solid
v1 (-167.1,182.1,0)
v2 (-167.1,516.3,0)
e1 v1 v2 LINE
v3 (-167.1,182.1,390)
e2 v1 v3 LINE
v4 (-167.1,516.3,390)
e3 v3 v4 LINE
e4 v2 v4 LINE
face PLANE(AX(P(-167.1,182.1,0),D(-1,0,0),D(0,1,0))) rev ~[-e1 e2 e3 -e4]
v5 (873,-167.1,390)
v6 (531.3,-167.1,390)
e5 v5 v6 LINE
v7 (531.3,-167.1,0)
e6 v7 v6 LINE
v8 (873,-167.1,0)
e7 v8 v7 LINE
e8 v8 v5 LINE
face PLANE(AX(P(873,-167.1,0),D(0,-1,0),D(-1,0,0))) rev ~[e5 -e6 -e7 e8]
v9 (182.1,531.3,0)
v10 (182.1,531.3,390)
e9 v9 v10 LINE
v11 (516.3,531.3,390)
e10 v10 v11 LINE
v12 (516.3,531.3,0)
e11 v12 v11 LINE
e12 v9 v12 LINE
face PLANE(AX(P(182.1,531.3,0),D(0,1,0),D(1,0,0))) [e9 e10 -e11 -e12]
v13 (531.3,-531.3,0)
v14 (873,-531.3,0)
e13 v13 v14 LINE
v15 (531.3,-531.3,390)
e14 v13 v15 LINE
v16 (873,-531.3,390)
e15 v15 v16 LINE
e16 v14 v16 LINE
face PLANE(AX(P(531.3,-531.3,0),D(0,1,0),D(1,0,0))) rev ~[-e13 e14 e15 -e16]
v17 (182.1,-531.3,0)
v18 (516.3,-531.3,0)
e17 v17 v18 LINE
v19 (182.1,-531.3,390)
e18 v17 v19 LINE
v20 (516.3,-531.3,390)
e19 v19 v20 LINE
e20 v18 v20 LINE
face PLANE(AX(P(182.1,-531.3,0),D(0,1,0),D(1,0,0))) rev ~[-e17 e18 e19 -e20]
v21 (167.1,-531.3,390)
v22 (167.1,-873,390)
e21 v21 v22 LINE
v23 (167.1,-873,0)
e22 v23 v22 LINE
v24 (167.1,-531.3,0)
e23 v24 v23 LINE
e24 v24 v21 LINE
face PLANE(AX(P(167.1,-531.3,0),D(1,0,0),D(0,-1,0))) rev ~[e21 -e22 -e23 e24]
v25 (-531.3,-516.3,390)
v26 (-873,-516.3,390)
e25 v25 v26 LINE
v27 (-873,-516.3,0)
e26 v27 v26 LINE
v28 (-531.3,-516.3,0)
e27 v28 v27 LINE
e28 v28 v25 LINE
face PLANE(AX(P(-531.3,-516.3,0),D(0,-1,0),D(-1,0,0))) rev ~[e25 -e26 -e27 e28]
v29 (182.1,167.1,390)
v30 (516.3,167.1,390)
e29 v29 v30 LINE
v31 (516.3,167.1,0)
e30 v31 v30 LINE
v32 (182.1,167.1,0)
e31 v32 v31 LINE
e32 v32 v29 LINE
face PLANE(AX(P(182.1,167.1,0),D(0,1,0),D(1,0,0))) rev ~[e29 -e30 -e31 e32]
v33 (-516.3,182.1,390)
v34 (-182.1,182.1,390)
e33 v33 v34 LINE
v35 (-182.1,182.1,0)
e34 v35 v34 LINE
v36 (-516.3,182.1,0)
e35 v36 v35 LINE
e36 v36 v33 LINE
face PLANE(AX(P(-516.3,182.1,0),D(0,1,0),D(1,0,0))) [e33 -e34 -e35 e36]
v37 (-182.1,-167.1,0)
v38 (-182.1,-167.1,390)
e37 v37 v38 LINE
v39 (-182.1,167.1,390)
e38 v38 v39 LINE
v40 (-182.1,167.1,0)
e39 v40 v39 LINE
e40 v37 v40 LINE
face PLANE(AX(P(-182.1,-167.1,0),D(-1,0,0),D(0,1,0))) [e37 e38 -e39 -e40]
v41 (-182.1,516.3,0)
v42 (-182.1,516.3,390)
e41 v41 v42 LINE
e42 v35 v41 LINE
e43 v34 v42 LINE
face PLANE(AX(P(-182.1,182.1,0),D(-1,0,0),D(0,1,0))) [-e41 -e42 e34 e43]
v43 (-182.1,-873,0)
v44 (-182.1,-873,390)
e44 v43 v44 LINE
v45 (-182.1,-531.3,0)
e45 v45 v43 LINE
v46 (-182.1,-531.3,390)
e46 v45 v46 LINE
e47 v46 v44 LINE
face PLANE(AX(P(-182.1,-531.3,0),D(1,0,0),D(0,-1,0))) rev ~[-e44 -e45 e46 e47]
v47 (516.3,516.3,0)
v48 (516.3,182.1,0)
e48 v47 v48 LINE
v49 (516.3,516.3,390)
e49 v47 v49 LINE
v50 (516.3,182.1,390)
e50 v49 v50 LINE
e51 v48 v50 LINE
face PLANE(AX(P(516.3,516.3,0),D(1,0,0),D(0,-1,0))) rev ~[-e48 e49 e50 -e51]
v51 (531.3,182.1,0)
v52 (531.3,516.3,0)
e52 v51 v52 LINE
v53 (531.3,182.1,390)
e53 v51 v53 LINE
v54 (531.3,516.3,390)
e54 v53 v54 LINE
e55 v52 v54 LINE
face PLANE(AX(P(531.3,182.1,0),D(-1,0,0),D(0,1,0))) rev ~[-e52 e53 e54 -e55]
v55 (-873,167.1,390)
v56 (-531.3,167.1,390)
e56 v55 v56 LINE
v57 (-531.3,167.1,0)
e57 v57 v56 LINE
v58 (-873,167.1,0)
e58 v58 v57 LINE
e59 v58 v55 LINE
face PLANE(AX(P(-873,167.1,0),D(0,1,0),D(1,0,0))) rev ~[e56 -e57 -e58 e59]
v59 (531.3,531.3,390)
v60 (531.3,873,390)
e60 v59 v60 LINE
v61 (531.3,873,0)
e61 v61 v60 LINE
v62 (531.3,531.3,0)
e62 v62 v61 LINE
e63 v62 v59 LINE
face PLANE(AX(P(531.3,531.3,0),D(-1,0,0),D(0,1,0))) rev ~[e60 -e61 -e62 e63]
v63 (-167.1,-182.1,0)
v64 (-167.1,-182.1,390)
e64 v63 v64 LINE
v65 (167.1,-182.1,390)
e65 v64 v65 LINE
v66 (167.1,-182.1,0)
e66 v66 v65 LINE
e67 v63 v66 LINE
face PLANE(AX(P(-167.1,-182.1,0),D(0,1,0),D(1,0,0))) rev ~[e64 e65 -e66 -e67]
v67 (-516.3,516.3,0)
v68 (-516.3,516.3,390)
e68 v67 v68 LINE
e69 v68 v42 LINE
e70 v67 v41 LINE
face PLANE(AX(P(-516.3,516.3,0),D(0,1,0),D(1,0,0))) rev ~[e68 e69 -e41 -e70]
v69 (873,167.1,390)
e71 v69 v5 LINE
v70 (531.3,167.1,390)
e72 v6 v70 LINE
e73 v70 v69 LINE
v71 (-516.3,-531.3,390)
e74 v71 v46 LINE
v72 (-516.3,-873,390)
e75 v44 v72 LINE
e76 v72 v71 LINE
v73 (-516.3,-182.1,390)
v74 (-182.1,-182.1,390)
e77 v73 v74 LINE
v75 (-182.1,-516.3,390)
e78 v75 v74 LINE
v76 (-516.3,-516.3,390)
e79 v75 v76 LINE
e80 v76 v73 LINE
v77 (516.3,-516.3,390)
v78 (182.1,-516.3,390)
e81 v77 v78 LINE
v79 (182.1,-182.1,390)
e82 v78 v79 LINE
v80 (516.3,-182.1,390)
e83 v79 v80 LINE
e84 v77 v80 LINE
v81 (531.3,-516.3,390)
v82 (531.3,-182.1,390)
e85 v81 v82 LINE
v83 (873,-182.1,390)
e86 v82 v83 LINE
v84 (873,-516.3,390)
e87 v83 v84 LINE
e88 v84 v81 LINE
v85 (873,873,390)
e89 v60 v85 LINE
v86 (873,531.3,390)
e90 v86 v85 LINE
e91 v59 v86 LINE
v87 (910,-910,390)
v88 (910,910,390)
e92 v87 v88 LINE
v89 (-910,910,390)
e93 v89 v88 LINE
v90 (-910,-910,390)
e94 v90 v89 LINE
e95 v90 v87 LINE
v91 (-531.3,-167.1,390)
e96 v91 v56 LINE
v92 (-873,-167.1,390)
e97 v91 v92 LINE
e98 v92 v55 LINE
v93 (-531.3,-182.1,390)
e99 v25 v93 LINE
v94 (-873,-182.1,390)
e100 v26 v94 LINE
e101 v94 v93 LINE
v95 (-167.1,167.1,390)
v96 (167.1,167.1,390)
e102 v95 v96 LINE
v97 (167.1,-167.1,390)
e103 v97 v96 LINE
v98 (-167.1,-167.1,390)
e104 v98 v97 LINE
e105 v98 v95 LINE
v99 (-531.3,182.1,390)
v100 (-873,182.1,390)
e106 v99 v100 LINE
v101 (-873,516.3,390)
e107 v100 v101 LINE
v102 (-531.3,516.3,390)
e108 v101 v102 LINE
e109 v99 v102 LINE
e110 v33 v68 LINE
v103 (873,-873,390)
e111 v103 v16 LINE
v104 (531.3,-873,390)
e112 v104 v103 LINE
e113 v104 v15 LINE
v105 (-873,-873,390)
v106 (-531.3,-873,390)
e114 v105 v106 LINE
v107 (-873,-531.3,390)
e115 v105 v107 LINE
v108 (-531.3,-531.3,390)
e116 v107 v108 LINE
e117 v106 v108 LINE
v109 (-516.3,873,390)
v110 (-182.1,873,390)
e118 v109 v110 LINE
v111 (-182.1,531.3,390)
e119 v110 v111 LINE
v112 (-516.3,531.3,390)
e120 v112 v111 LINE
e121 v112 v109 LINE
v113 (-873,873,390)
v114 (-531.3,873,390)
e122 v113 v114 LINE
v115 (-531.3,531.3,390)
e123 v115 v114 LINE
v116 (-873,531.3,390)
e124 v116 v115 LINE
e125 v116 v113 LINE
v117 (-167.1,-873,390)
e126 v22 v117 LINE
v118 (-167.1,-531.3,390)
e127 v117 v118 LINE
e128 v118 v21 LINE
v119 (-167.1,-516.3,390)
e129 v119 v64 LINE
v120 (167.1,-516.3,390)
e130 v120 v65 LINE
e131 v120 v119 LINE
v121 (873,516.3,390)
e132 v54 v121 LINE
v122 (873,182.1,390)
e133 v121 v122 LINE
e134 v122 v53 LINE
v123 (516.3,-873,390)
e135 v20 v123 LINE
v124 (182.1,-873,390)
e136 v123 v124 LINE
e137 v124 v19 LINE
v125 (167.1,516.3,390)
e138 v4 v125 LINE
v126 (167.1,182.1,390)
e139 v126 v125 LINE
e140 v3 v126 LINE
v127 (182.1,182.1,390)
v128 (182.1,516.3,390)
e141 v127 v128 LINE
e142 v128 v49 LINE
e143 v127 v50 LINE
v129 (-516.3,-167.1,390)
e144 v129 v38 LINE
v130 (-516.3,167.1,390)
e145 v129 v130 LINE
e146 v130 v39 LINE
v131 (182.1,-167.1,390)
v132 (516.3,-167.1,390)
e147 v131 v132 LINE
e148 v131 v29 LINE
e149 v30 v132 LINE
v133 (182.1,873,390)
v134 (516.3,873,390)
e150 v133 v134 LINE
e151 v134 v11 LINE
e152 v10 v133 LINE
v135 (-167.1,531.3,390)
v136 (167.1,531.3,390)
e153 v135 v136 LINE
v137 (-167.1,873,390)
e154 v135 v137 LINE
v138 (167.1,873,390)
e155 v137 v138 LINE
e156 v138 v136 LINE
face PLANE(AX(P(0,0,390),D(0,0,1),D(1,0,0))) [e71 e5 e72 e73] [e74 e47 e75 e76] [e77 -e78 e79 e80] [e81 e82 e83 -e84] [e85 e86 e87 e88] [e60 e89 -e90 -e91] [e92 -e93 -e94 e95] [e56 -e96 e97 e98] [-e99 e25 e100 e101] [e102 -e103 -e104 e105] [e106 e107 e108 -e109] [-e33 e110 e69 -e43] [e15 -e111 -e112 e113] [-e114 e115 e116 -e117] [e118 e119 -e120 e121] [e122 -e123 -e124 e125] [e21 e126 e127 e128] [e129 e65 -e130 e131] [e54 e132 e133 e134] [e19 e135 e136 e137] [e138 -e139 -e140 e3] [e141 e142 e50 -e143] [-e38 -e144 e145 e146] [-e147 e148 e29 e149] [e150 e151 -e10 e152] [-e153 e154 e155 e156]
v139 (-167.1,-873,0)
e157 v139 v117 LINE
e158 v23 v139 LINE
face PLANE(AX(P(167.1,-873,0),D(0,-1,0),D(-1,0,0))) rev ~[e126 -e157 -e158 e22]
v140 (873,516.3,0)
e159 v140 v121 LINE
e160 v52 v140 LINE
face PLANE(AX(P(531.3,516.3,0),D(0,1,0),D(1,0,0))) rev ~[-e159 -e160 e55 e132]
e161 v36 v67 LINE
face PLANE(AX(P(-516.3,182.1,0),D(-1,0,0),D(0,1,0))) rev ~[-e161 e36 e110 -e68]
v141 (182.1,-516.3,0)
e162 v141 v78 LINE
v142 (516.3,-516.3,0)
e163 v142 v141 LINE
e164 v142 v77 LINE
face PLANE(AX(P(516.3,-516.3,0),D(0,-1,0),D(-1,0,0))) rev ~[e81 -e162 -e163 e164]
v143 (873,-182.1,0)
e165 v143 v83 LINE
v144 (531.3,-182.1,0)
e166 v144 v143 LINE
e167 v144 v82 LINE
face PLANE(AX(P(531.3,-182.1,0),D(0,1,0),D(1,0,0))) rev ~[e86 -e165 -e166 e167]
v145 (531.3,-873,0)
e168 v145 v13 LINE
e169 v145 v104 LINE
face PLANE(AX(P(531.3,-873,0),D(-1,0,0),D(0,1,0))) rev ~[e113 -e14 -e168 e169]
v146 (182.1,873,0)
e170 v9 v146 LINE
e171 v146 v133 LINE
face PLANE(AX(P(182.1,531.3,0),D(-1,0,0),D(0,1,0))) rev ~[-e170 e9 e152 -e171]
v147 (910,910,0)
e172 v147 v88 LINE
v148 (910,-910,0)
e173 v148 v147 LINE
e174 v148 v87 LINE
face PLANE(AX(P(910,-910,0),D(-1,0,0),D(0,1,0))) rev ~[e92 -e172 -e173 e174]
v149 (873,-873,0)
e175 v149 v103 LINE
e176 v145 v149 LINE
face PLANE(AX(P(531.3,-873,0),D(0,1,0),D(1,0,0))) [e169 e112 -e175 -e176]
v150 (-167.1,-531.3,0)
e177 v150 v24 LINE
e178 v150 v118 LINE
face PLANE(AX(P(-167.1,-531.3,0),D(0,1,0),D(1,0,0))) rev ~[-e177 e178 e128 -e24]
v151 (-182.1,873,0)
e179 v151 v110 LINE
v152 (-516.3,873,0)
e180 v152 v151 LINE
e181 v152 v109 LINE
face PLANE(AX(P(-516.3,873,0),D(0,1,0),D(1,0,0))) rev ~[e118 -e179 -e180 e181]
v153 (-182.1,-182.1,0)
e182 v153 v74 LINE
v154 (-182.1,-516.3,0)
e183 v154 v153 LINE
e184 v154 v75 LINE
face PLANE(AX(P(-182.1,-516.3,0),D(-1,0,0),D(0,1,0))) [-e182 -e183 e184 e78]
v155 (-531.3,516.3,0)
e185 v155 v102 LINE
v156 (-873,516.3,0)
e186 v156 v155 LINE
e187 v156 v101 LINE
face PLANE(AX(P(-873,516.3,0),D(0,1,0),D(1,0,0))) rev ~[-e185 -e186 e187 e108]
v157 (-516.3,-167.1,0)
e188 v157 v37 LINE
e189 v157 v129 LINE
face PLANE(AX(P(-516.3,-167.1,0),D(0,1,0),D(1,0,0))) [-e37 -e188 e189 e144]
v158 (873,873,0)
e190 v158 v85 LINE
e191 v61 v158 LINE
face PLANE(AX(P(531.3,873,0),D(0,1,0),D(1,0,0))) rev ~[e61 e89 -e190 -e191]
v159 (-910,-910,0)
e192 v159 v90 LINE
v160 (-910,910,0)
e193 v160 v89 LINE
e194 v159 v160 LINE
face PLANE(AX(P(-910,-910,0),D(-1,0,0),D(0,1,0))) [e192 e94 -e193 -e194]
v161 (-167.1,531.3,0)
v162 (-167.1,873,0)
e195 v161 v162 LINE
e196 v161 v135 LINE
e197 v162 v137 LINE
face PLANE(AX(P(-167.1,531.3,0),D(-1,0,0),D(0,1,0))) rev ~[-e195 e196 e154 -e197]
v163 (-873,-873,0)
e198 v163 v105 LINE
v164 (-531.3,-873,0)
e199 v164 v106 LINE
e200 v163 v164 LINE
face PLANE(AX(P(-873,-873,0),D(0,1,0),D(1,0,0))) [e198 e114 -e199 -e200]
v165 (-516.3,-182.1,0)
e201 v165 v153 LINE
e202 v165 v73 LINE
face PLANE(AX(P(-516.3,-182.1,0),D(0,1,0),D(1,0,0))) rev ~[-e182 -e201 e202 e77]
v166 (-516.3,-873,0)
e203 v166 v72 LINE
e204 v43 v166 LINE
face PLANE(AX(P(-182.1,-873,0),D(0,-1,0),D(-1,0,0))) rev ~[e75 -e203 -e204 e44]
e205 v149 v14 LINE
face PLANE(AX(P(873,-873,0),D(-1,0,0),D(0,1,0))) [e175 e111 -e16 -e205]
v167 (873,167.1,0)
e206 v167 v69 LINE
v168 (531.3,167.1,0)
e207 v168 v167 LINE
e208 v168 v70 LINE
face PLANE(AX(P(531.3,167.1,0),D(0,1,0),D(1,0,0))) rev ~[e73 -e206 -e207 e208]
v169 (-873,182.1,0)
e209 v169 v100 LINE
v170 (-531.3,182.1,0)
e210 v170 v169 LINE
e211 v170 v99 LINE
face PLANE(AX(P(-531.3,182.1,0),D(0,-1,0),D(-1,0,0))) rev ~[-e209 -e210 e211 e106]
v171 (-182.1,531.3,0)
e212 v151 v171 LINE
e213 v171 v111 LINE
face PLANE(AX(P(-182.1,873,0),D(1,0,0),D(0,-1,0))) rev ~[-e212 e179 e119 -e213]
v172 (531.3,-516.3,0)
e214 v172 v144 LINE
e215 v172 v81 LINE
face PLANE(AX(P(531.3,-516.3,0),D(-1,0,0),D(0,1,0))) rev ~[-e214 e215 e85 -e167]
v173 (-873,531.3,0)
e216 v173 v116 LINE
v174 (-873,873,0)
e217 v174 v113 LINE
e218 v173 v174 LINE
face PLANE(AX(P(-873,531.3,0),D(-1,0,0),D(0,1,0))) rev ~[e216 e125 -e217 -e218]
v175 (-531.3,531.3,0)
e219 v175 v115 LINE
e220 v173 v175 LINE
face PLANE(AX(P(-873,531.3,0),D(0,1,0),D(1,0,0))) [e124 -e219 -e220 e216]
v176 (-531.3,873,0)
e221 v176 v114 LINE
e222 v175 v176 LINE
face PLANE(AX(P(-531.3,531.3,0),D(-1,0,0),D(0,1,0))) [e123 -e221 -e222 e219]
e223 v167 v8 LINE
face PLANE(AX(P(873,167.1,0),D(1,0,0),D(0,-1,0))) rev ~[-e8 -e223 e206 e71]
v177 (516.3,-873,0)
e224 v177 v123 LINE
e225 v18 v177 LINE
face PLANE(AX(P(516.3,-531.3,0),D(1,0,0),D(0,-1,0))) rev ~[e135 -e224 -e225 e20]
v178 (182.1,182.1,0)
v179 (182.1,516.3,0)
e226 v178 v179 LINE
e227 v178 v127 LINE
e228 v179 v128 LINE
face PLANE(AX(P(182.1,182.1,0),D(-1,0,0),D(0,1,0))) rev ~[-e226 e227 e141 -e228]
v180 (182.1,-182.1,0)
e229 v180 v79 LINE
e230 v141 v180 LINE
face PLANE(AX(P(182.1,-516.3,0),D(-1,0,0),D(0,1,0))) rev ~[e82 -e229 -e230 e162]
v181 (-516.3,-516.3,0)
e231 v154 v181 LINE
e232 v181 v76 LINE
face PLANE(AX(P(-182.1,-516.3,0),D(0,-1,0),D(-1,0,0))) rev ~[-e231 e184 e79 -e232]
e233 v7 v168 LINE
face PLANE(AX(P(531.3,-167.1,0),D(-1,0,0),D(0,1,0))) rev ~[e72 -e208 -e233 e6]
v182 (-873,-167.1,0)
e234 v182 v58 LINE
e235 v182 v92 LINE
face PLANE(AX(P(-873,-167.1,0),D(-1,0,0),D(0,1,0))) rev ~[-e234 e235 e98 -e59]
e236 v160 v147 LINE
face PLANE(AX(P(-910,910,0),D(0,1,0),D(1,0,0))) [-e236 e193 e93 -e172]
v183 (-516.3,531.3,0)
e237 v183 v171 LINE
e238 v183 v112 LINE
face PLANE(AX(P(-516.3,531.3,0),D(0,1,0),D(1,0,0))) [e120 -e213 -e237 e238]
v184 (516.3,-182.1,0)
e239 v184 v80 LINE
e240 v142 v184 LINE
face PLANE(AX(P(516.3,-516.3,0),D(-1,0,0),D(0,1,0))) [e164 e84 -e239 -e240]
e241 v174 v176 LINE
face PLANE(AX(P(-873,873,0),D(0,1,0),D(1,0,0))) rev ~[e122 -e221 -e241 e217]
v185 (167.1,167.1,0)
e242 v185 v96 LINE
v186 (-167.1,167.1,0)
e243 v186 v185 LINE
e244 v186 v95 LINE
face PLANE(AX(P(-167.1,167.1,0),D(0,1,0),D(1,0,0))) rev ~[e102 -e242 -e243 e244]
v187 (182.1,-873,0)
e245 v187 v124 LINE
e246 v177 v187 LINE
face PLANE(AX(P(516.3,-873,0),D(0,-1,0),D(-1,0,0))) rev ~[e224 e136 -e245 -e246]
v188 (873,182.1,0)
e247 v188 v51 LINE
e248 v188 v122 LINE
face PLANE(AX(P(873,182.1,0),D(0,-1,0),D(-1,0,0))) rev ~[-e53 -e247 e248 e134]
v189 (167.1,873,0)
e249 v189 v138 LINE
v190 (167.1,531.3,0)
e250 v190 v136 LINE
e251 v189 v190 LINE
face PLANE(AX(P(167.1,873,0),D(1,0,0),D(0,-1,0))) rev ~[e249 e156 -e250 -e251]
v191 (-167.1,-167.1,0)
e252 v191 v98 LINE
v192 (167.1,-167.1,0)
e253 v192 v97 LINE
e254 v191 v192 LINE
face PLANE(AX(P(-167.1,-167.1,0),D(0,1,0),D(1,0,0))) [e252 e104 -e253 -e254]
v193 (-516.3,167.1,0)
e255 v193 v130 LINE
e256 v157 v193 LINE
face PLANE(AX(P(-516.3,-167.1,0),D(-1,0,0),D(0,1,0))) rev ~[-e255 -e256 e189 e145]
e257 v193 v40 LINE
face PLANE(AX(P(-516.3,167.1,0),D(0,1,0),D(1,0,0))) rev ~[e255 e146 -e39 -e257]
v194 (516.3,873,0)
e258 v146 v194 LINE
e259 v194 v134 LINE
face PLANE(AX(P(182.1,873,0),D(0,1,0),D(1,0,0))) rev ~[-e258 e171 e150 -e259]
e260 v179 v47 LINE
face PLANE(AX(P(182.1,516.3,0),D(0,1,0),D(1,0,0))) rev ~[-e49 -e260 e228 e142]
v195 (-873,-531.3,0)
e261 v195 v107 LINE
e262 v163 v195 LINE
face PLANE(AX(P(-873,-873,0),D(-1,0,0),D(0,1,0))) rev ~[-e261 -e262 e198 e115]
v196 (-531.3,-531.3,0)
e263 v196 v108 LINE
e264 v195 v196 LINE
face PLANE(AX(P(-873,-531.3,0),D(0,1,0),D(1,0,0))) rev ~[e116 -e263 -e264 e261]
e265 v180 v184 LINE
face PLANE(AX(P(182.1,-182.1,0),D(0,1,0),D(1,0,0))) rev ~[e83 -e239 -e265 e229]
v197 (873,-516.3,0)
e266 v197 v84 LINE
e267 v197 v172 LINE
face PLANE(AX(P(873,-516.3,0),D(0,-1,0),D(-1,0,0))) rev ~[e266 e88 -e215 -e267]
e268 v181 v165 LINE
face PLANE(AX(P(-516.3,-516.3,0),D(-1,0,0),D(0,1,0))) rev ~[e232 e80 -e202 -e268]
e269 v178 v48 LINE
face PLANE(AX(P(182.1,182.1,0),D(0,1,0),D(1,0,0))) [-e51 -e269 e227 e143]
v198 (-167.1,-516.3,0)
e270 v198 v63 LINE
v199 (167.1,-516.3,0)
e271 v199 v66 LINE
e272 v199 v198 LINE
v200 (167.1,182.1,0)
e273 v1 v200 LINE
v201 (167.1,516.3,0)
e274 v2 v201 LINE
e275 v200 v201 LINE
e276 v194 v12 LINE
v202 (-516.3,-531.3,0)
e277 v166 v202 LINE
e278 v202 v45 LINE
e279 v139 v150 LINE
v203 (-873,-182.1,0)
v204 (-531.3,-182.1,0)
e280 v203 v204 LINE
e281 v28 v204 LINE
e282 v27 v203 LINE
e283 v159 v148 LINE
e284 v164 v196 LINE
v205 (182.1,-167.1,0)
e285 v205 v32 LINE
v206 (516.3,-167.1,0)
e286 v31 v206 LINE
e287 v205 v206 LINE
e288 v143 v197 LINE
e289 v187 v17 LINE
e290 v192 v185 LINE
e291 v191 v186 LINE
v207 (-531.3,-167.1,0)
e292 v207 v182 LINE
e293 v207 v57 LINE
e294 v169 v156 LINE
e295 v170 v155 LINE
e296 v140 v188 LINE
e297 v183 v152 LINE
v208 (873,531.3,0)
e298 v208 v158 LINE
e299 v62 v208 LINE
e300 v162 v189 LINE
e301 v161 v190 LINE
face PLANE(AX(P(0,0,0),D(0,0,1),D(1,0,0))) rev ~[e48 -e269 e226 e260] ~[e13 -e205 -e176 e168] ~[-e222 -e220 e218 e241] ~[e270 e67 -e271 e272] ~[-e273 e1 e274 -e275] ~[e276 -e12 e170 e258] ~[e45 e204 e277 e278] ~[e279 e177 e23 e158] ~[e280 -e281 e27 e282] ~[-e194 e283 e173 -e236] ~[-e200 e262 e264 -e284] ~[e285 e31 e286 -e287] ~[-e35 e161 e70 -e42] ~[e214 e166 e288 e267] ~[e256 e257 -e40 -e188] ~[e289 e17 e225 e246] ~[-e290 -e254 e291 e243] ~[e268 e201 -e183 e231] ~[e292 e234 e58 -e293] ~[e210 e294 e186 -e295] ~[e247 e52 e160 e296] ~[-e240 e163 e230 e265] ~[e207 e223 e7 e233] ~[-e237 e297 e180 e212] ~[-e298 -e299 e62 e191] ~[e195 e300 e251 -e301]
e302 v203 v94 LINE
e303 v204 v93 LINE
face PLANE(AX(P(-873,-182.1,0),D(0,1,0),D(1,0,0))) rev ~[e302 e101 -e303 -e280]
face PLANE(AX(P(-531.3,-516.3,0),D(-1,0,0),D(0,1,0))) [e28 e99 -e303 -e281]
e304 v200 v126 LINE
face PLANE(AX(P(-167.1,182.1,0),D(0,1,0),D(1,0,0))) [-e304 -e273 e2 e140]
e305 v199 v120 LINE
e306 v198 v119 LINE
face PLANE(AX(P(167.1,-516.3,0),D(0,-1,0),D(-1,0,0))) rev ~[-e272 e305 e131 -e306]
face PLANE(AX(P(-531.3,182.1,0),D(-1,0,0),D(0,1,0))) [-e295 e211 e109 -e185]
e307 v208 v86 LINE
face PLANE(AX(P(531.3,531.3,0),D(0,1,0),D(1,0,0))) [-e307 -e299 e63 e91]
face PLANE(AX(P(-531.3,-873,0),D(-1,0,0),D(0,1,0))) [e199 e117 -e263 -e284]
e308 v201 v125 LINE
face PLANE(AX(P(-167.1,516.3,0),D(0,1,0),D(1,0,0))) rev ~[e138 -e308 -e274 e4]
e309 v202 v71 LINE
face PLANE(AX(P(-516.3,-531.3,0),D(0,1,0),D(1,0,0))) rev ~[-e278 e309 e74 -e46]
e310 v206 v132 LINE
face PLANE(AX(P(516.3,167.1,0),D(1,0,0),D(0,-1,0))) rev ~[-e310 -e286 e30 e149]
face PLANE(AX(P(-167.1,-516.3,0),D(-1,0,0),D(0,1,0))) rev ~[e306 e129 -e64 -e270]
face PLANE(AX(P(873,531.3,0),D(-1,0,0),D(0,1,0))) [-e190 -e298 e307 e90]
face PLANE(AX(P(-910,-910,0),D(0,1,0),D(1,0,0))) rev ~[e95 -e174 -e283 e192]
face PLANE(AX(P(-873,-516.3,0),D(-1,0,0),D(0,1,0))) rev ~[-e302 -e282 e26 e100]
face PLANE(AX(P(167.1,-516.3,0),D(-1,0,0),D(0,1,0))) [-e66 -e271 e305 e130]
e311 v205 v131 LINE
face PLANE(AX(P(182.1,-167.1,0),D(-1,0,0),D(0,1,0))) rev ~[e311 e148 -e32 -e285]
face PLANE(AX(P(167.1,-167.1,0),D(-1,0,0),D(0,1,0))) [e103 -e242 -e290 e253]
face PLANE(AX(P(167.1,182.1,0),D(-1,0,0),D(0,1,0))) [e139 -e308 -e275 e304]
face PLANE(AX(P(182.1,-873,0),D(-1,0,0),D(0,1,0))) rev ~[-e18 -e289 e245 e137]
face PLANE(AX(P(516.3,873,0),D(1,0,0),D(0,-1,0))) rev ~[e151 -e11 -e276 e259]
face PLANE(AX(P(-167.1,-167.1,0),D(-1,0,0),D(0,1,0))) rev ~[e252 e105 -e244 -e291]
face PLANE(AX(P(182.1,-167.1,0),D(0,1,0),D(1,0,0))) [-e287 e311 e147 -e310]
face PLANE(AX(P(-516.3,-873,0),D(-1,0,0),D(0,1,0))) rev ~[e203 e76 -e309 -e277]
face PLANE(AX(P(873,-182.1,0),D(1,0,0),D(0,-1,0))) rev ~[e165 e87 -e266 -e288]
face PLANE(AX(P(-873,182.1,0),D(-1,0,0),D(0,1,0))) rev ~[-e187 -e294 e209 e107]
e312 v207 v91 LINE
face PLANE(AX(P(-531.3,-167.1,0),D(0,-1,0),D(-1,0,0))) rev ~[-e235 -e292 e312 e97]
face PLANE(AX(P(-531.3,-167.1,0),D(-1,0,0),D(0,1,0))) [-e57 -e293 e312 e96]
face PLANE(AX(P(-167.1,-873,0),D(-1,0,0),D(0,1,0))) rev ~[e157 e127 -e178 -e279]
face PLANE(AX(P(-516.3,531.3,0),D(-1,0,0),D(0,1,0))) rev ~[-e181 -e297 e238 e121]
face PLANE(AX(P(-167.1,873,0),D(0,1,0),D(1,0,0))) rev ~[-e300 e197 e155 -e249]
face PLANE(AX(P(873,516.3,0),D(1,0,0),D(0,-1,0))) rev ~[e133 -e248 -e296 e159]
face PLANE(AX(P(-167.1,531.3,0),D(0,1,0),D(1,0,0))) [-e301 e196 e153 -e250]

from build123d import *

# Parameters (mm, degrees)
F0_W     = 1820
F0_H     = 1820
F0_W_2   = 341.7
F0_H_2   = 341.7
F0_W_3   = 334.2
F0_H_3   = 15
F0_W_4   = 15
F0_H_4   = 334.2
F1_DEPTH = 390


with BuildPart() as f1:
    # F0 (on Top) → F1 (new body)
    with BuildSketch(Plane.XY):
        Rectangle(F0_W, F0_H)
        with Locations((-702.15, -702.15)):
            Rectangle(F0_W_2, F0_H_2, mode=Mode.SUBTRACT)
        with Locations((702.15, -702.15)):
            Rectangle(F0_W_2, F0_H_2, mode=Mode.SUBTRACT)
        with Locations((-702.15, 702.15)):
            Rectangle(F0_W_2, F0_H_2, mode=Mode.SUBTRACT)
        Polygon((-531.3, 516.3), (-531.3, 531.3), (-516.3, 531.3), (-516.3, 873), (-182.1, 873), (-182.1, 531.3), (-167.1, 531.3), (-167.1, 873), (167.1, 873), (167.1, 531.3), (182.1, 531.3), (182.1, 873), (516.3, 873), (516.3, 531.3), (531.3, 531.3), (531.3, 516.3), (873, 516.3), (873, 182.1), (531.3, 182.1), (531.3, 167.1), (873, 167.1), (873, -167.1), (531.3, -167.1), (531.3, -182.1), (873, -182.1), (873, -516.3), (531.3, -516.3), (531.3, -531.3), (516.3, -531.3), (516.3, -873), (182.1, -873), (182.1, -531.3), (167.1, -531.3), (167.1, -873), (-167.1, -873), (-167.1, -531.3), (-182.1, -531.3), (-182.1, -873), (-516.3, -873), (-516.3, -531.3), (-531.3, -531.3), (-531.3, -516.3), (-873, -516.3), (-873, -182.1), (-531.3, -182.1), (-531.3, -167.1), (-873, -167.1), (-873, 167.1), (-531.3, 167.1), (-531.3, 182.1), (-873, 182.1), (-873, 516.3), align=None, mode=Mode.SUBTRACT)
        with Locations((702.15, 702.15)):
            Rectangle(F0_W_2, F0_H_2, mode=Mode.SUBTRACT)
        with Locations((-349.2, -523.8)):
            Rectangle(F0_W_3, F0_H_3)
        with Locations((-174.6, -523.8)):
            Rectangle(F0_W_4, F0_H_3)
        with Locations((0, -523.8)):
            Rectangle(F0_W_3, F0_H_3)
        with Locations((-174.6, -349.2)):
            Rectangle(F0_W_4, F0_H_4)
        with Locations((349.2, -523.8)):
            Rectangle(F0_W_3, F0_H_3)
        with Locations((174.6, -523.8)):
            Rectangle(F0_W_4, F0_H_3)
        with Locations((174.6, -349.2)):
            Rectangle(F0_W_4, F0_H_4)
        with Locations((523.8, -523.8)):
            Rectangle(F0_W_4, F0_H_3)
        with Locations((523.8, -349.2)):
            Rectangle(F0_W_4, F0_H_4)
        with Locations((523.8, 0)):
            Rectangle(F0_W_4, F0_H_4)
        with Locations((349.2, -174.6)):
            Rectangle(F0_W_3, F0_H_3)
        with Locations((523.8, -174.6)):
            Rectangle(F0_W_4, F0_H_3)
        with Locations((523.8, 349.2)):
            Rectangle(F0_W_4, F0_H_4)
        with Locations((523.8, 174.6)):
            Rectangle(F0_W_4, F0_H_3)
        with Locations((349.2, 174.6)):
            Rectangle(F0_W_3, F0_H_3)
        with Locations((349.2, 523.8)):
            Rectangle(F0_W_3, F0_H_3)
        with Locations((523.8, 523.8)):
            Rectangle(F0_W_4, F0_H_3)
        with Locations((-349.2, 523.8)):
            Rectangle(F0_W_3, F0_H_3)
        with Locations((-523.8, 523.8)):
            Rectangle(F0_W_4, F0_H_3)
        with Locations((-523.8, 349.2)):
            Rectangle(F0_W_4, F0_H_4)
        with Locations((-174.6, 349.2)):
            Rectangle(F0_W_4, F0_H_4)
        with Locations((-174.6, 523.8)):
            Rectangle(F0_W_4, F0_H_3)
        with Locations((0, 523.8)):
            Rectangle(F0_W_3, F0_H_3)
        with Locations((-523.8, 174.6)):
            Rectangle(F0_W_4, F0_H_3)
        with Locations((-349.2, 174.6)):
            Rectangle(F0_W_3, F0_H_3)
        with Locations((-523.8, 0)):
            Rectangle(F0_W_4, F0_H_4)
        with Locations((-174.6, 0)):
            Rectangle(F0_W_4, F0_H_4)
        with Locations((0, 174.6)):
            Rectangle(F0_W_3, F0_H_3)
        with Locations((-174.6, 174.6)):
            Rectangle(F0_W_4, F0_H_3)
        with Locations((-349.2, -174.6)):
            Rectangle(F0_W_3, F0_H_3)
        with Locations((-523.8, -349.2)):
            Rectangle(F0_W_4, F0_H_4)
        with Locations((-523.8, -174.6)):
            Rectangle(F0_W_4, F0_H_3)
        with Locations((0, -174.6)):
            Rectangle(F0_W_3, F0_H_3)
        with Locations((-174.6, -174.6)):
            Rectangle(F0_W_4, F0_H_3)
        with Locations((-523.8, -523.8)):
            Rectangle(F0_W_4, F0_H_3)
        with Locations((174.6, 0)):
            Rectangle(F0_W_4, F0_H_4)
        with Locations((174.6, -174.6)):
            Rectangle(F0_W_4, F0_H_3)
        with Locations((174.6, 349.2)):
            Rectangle(F0_W_4, F0_H_4)
        with Locations((174.6, 174.6)):
            Rectangle(F0_W_4, F0_H_3)
        with Locations((174.6, 523.8)):
            Rectangle(F0_W_4, F0_H_3)
    extrude(amount=F1_DEPTH)


solid = f1.part
